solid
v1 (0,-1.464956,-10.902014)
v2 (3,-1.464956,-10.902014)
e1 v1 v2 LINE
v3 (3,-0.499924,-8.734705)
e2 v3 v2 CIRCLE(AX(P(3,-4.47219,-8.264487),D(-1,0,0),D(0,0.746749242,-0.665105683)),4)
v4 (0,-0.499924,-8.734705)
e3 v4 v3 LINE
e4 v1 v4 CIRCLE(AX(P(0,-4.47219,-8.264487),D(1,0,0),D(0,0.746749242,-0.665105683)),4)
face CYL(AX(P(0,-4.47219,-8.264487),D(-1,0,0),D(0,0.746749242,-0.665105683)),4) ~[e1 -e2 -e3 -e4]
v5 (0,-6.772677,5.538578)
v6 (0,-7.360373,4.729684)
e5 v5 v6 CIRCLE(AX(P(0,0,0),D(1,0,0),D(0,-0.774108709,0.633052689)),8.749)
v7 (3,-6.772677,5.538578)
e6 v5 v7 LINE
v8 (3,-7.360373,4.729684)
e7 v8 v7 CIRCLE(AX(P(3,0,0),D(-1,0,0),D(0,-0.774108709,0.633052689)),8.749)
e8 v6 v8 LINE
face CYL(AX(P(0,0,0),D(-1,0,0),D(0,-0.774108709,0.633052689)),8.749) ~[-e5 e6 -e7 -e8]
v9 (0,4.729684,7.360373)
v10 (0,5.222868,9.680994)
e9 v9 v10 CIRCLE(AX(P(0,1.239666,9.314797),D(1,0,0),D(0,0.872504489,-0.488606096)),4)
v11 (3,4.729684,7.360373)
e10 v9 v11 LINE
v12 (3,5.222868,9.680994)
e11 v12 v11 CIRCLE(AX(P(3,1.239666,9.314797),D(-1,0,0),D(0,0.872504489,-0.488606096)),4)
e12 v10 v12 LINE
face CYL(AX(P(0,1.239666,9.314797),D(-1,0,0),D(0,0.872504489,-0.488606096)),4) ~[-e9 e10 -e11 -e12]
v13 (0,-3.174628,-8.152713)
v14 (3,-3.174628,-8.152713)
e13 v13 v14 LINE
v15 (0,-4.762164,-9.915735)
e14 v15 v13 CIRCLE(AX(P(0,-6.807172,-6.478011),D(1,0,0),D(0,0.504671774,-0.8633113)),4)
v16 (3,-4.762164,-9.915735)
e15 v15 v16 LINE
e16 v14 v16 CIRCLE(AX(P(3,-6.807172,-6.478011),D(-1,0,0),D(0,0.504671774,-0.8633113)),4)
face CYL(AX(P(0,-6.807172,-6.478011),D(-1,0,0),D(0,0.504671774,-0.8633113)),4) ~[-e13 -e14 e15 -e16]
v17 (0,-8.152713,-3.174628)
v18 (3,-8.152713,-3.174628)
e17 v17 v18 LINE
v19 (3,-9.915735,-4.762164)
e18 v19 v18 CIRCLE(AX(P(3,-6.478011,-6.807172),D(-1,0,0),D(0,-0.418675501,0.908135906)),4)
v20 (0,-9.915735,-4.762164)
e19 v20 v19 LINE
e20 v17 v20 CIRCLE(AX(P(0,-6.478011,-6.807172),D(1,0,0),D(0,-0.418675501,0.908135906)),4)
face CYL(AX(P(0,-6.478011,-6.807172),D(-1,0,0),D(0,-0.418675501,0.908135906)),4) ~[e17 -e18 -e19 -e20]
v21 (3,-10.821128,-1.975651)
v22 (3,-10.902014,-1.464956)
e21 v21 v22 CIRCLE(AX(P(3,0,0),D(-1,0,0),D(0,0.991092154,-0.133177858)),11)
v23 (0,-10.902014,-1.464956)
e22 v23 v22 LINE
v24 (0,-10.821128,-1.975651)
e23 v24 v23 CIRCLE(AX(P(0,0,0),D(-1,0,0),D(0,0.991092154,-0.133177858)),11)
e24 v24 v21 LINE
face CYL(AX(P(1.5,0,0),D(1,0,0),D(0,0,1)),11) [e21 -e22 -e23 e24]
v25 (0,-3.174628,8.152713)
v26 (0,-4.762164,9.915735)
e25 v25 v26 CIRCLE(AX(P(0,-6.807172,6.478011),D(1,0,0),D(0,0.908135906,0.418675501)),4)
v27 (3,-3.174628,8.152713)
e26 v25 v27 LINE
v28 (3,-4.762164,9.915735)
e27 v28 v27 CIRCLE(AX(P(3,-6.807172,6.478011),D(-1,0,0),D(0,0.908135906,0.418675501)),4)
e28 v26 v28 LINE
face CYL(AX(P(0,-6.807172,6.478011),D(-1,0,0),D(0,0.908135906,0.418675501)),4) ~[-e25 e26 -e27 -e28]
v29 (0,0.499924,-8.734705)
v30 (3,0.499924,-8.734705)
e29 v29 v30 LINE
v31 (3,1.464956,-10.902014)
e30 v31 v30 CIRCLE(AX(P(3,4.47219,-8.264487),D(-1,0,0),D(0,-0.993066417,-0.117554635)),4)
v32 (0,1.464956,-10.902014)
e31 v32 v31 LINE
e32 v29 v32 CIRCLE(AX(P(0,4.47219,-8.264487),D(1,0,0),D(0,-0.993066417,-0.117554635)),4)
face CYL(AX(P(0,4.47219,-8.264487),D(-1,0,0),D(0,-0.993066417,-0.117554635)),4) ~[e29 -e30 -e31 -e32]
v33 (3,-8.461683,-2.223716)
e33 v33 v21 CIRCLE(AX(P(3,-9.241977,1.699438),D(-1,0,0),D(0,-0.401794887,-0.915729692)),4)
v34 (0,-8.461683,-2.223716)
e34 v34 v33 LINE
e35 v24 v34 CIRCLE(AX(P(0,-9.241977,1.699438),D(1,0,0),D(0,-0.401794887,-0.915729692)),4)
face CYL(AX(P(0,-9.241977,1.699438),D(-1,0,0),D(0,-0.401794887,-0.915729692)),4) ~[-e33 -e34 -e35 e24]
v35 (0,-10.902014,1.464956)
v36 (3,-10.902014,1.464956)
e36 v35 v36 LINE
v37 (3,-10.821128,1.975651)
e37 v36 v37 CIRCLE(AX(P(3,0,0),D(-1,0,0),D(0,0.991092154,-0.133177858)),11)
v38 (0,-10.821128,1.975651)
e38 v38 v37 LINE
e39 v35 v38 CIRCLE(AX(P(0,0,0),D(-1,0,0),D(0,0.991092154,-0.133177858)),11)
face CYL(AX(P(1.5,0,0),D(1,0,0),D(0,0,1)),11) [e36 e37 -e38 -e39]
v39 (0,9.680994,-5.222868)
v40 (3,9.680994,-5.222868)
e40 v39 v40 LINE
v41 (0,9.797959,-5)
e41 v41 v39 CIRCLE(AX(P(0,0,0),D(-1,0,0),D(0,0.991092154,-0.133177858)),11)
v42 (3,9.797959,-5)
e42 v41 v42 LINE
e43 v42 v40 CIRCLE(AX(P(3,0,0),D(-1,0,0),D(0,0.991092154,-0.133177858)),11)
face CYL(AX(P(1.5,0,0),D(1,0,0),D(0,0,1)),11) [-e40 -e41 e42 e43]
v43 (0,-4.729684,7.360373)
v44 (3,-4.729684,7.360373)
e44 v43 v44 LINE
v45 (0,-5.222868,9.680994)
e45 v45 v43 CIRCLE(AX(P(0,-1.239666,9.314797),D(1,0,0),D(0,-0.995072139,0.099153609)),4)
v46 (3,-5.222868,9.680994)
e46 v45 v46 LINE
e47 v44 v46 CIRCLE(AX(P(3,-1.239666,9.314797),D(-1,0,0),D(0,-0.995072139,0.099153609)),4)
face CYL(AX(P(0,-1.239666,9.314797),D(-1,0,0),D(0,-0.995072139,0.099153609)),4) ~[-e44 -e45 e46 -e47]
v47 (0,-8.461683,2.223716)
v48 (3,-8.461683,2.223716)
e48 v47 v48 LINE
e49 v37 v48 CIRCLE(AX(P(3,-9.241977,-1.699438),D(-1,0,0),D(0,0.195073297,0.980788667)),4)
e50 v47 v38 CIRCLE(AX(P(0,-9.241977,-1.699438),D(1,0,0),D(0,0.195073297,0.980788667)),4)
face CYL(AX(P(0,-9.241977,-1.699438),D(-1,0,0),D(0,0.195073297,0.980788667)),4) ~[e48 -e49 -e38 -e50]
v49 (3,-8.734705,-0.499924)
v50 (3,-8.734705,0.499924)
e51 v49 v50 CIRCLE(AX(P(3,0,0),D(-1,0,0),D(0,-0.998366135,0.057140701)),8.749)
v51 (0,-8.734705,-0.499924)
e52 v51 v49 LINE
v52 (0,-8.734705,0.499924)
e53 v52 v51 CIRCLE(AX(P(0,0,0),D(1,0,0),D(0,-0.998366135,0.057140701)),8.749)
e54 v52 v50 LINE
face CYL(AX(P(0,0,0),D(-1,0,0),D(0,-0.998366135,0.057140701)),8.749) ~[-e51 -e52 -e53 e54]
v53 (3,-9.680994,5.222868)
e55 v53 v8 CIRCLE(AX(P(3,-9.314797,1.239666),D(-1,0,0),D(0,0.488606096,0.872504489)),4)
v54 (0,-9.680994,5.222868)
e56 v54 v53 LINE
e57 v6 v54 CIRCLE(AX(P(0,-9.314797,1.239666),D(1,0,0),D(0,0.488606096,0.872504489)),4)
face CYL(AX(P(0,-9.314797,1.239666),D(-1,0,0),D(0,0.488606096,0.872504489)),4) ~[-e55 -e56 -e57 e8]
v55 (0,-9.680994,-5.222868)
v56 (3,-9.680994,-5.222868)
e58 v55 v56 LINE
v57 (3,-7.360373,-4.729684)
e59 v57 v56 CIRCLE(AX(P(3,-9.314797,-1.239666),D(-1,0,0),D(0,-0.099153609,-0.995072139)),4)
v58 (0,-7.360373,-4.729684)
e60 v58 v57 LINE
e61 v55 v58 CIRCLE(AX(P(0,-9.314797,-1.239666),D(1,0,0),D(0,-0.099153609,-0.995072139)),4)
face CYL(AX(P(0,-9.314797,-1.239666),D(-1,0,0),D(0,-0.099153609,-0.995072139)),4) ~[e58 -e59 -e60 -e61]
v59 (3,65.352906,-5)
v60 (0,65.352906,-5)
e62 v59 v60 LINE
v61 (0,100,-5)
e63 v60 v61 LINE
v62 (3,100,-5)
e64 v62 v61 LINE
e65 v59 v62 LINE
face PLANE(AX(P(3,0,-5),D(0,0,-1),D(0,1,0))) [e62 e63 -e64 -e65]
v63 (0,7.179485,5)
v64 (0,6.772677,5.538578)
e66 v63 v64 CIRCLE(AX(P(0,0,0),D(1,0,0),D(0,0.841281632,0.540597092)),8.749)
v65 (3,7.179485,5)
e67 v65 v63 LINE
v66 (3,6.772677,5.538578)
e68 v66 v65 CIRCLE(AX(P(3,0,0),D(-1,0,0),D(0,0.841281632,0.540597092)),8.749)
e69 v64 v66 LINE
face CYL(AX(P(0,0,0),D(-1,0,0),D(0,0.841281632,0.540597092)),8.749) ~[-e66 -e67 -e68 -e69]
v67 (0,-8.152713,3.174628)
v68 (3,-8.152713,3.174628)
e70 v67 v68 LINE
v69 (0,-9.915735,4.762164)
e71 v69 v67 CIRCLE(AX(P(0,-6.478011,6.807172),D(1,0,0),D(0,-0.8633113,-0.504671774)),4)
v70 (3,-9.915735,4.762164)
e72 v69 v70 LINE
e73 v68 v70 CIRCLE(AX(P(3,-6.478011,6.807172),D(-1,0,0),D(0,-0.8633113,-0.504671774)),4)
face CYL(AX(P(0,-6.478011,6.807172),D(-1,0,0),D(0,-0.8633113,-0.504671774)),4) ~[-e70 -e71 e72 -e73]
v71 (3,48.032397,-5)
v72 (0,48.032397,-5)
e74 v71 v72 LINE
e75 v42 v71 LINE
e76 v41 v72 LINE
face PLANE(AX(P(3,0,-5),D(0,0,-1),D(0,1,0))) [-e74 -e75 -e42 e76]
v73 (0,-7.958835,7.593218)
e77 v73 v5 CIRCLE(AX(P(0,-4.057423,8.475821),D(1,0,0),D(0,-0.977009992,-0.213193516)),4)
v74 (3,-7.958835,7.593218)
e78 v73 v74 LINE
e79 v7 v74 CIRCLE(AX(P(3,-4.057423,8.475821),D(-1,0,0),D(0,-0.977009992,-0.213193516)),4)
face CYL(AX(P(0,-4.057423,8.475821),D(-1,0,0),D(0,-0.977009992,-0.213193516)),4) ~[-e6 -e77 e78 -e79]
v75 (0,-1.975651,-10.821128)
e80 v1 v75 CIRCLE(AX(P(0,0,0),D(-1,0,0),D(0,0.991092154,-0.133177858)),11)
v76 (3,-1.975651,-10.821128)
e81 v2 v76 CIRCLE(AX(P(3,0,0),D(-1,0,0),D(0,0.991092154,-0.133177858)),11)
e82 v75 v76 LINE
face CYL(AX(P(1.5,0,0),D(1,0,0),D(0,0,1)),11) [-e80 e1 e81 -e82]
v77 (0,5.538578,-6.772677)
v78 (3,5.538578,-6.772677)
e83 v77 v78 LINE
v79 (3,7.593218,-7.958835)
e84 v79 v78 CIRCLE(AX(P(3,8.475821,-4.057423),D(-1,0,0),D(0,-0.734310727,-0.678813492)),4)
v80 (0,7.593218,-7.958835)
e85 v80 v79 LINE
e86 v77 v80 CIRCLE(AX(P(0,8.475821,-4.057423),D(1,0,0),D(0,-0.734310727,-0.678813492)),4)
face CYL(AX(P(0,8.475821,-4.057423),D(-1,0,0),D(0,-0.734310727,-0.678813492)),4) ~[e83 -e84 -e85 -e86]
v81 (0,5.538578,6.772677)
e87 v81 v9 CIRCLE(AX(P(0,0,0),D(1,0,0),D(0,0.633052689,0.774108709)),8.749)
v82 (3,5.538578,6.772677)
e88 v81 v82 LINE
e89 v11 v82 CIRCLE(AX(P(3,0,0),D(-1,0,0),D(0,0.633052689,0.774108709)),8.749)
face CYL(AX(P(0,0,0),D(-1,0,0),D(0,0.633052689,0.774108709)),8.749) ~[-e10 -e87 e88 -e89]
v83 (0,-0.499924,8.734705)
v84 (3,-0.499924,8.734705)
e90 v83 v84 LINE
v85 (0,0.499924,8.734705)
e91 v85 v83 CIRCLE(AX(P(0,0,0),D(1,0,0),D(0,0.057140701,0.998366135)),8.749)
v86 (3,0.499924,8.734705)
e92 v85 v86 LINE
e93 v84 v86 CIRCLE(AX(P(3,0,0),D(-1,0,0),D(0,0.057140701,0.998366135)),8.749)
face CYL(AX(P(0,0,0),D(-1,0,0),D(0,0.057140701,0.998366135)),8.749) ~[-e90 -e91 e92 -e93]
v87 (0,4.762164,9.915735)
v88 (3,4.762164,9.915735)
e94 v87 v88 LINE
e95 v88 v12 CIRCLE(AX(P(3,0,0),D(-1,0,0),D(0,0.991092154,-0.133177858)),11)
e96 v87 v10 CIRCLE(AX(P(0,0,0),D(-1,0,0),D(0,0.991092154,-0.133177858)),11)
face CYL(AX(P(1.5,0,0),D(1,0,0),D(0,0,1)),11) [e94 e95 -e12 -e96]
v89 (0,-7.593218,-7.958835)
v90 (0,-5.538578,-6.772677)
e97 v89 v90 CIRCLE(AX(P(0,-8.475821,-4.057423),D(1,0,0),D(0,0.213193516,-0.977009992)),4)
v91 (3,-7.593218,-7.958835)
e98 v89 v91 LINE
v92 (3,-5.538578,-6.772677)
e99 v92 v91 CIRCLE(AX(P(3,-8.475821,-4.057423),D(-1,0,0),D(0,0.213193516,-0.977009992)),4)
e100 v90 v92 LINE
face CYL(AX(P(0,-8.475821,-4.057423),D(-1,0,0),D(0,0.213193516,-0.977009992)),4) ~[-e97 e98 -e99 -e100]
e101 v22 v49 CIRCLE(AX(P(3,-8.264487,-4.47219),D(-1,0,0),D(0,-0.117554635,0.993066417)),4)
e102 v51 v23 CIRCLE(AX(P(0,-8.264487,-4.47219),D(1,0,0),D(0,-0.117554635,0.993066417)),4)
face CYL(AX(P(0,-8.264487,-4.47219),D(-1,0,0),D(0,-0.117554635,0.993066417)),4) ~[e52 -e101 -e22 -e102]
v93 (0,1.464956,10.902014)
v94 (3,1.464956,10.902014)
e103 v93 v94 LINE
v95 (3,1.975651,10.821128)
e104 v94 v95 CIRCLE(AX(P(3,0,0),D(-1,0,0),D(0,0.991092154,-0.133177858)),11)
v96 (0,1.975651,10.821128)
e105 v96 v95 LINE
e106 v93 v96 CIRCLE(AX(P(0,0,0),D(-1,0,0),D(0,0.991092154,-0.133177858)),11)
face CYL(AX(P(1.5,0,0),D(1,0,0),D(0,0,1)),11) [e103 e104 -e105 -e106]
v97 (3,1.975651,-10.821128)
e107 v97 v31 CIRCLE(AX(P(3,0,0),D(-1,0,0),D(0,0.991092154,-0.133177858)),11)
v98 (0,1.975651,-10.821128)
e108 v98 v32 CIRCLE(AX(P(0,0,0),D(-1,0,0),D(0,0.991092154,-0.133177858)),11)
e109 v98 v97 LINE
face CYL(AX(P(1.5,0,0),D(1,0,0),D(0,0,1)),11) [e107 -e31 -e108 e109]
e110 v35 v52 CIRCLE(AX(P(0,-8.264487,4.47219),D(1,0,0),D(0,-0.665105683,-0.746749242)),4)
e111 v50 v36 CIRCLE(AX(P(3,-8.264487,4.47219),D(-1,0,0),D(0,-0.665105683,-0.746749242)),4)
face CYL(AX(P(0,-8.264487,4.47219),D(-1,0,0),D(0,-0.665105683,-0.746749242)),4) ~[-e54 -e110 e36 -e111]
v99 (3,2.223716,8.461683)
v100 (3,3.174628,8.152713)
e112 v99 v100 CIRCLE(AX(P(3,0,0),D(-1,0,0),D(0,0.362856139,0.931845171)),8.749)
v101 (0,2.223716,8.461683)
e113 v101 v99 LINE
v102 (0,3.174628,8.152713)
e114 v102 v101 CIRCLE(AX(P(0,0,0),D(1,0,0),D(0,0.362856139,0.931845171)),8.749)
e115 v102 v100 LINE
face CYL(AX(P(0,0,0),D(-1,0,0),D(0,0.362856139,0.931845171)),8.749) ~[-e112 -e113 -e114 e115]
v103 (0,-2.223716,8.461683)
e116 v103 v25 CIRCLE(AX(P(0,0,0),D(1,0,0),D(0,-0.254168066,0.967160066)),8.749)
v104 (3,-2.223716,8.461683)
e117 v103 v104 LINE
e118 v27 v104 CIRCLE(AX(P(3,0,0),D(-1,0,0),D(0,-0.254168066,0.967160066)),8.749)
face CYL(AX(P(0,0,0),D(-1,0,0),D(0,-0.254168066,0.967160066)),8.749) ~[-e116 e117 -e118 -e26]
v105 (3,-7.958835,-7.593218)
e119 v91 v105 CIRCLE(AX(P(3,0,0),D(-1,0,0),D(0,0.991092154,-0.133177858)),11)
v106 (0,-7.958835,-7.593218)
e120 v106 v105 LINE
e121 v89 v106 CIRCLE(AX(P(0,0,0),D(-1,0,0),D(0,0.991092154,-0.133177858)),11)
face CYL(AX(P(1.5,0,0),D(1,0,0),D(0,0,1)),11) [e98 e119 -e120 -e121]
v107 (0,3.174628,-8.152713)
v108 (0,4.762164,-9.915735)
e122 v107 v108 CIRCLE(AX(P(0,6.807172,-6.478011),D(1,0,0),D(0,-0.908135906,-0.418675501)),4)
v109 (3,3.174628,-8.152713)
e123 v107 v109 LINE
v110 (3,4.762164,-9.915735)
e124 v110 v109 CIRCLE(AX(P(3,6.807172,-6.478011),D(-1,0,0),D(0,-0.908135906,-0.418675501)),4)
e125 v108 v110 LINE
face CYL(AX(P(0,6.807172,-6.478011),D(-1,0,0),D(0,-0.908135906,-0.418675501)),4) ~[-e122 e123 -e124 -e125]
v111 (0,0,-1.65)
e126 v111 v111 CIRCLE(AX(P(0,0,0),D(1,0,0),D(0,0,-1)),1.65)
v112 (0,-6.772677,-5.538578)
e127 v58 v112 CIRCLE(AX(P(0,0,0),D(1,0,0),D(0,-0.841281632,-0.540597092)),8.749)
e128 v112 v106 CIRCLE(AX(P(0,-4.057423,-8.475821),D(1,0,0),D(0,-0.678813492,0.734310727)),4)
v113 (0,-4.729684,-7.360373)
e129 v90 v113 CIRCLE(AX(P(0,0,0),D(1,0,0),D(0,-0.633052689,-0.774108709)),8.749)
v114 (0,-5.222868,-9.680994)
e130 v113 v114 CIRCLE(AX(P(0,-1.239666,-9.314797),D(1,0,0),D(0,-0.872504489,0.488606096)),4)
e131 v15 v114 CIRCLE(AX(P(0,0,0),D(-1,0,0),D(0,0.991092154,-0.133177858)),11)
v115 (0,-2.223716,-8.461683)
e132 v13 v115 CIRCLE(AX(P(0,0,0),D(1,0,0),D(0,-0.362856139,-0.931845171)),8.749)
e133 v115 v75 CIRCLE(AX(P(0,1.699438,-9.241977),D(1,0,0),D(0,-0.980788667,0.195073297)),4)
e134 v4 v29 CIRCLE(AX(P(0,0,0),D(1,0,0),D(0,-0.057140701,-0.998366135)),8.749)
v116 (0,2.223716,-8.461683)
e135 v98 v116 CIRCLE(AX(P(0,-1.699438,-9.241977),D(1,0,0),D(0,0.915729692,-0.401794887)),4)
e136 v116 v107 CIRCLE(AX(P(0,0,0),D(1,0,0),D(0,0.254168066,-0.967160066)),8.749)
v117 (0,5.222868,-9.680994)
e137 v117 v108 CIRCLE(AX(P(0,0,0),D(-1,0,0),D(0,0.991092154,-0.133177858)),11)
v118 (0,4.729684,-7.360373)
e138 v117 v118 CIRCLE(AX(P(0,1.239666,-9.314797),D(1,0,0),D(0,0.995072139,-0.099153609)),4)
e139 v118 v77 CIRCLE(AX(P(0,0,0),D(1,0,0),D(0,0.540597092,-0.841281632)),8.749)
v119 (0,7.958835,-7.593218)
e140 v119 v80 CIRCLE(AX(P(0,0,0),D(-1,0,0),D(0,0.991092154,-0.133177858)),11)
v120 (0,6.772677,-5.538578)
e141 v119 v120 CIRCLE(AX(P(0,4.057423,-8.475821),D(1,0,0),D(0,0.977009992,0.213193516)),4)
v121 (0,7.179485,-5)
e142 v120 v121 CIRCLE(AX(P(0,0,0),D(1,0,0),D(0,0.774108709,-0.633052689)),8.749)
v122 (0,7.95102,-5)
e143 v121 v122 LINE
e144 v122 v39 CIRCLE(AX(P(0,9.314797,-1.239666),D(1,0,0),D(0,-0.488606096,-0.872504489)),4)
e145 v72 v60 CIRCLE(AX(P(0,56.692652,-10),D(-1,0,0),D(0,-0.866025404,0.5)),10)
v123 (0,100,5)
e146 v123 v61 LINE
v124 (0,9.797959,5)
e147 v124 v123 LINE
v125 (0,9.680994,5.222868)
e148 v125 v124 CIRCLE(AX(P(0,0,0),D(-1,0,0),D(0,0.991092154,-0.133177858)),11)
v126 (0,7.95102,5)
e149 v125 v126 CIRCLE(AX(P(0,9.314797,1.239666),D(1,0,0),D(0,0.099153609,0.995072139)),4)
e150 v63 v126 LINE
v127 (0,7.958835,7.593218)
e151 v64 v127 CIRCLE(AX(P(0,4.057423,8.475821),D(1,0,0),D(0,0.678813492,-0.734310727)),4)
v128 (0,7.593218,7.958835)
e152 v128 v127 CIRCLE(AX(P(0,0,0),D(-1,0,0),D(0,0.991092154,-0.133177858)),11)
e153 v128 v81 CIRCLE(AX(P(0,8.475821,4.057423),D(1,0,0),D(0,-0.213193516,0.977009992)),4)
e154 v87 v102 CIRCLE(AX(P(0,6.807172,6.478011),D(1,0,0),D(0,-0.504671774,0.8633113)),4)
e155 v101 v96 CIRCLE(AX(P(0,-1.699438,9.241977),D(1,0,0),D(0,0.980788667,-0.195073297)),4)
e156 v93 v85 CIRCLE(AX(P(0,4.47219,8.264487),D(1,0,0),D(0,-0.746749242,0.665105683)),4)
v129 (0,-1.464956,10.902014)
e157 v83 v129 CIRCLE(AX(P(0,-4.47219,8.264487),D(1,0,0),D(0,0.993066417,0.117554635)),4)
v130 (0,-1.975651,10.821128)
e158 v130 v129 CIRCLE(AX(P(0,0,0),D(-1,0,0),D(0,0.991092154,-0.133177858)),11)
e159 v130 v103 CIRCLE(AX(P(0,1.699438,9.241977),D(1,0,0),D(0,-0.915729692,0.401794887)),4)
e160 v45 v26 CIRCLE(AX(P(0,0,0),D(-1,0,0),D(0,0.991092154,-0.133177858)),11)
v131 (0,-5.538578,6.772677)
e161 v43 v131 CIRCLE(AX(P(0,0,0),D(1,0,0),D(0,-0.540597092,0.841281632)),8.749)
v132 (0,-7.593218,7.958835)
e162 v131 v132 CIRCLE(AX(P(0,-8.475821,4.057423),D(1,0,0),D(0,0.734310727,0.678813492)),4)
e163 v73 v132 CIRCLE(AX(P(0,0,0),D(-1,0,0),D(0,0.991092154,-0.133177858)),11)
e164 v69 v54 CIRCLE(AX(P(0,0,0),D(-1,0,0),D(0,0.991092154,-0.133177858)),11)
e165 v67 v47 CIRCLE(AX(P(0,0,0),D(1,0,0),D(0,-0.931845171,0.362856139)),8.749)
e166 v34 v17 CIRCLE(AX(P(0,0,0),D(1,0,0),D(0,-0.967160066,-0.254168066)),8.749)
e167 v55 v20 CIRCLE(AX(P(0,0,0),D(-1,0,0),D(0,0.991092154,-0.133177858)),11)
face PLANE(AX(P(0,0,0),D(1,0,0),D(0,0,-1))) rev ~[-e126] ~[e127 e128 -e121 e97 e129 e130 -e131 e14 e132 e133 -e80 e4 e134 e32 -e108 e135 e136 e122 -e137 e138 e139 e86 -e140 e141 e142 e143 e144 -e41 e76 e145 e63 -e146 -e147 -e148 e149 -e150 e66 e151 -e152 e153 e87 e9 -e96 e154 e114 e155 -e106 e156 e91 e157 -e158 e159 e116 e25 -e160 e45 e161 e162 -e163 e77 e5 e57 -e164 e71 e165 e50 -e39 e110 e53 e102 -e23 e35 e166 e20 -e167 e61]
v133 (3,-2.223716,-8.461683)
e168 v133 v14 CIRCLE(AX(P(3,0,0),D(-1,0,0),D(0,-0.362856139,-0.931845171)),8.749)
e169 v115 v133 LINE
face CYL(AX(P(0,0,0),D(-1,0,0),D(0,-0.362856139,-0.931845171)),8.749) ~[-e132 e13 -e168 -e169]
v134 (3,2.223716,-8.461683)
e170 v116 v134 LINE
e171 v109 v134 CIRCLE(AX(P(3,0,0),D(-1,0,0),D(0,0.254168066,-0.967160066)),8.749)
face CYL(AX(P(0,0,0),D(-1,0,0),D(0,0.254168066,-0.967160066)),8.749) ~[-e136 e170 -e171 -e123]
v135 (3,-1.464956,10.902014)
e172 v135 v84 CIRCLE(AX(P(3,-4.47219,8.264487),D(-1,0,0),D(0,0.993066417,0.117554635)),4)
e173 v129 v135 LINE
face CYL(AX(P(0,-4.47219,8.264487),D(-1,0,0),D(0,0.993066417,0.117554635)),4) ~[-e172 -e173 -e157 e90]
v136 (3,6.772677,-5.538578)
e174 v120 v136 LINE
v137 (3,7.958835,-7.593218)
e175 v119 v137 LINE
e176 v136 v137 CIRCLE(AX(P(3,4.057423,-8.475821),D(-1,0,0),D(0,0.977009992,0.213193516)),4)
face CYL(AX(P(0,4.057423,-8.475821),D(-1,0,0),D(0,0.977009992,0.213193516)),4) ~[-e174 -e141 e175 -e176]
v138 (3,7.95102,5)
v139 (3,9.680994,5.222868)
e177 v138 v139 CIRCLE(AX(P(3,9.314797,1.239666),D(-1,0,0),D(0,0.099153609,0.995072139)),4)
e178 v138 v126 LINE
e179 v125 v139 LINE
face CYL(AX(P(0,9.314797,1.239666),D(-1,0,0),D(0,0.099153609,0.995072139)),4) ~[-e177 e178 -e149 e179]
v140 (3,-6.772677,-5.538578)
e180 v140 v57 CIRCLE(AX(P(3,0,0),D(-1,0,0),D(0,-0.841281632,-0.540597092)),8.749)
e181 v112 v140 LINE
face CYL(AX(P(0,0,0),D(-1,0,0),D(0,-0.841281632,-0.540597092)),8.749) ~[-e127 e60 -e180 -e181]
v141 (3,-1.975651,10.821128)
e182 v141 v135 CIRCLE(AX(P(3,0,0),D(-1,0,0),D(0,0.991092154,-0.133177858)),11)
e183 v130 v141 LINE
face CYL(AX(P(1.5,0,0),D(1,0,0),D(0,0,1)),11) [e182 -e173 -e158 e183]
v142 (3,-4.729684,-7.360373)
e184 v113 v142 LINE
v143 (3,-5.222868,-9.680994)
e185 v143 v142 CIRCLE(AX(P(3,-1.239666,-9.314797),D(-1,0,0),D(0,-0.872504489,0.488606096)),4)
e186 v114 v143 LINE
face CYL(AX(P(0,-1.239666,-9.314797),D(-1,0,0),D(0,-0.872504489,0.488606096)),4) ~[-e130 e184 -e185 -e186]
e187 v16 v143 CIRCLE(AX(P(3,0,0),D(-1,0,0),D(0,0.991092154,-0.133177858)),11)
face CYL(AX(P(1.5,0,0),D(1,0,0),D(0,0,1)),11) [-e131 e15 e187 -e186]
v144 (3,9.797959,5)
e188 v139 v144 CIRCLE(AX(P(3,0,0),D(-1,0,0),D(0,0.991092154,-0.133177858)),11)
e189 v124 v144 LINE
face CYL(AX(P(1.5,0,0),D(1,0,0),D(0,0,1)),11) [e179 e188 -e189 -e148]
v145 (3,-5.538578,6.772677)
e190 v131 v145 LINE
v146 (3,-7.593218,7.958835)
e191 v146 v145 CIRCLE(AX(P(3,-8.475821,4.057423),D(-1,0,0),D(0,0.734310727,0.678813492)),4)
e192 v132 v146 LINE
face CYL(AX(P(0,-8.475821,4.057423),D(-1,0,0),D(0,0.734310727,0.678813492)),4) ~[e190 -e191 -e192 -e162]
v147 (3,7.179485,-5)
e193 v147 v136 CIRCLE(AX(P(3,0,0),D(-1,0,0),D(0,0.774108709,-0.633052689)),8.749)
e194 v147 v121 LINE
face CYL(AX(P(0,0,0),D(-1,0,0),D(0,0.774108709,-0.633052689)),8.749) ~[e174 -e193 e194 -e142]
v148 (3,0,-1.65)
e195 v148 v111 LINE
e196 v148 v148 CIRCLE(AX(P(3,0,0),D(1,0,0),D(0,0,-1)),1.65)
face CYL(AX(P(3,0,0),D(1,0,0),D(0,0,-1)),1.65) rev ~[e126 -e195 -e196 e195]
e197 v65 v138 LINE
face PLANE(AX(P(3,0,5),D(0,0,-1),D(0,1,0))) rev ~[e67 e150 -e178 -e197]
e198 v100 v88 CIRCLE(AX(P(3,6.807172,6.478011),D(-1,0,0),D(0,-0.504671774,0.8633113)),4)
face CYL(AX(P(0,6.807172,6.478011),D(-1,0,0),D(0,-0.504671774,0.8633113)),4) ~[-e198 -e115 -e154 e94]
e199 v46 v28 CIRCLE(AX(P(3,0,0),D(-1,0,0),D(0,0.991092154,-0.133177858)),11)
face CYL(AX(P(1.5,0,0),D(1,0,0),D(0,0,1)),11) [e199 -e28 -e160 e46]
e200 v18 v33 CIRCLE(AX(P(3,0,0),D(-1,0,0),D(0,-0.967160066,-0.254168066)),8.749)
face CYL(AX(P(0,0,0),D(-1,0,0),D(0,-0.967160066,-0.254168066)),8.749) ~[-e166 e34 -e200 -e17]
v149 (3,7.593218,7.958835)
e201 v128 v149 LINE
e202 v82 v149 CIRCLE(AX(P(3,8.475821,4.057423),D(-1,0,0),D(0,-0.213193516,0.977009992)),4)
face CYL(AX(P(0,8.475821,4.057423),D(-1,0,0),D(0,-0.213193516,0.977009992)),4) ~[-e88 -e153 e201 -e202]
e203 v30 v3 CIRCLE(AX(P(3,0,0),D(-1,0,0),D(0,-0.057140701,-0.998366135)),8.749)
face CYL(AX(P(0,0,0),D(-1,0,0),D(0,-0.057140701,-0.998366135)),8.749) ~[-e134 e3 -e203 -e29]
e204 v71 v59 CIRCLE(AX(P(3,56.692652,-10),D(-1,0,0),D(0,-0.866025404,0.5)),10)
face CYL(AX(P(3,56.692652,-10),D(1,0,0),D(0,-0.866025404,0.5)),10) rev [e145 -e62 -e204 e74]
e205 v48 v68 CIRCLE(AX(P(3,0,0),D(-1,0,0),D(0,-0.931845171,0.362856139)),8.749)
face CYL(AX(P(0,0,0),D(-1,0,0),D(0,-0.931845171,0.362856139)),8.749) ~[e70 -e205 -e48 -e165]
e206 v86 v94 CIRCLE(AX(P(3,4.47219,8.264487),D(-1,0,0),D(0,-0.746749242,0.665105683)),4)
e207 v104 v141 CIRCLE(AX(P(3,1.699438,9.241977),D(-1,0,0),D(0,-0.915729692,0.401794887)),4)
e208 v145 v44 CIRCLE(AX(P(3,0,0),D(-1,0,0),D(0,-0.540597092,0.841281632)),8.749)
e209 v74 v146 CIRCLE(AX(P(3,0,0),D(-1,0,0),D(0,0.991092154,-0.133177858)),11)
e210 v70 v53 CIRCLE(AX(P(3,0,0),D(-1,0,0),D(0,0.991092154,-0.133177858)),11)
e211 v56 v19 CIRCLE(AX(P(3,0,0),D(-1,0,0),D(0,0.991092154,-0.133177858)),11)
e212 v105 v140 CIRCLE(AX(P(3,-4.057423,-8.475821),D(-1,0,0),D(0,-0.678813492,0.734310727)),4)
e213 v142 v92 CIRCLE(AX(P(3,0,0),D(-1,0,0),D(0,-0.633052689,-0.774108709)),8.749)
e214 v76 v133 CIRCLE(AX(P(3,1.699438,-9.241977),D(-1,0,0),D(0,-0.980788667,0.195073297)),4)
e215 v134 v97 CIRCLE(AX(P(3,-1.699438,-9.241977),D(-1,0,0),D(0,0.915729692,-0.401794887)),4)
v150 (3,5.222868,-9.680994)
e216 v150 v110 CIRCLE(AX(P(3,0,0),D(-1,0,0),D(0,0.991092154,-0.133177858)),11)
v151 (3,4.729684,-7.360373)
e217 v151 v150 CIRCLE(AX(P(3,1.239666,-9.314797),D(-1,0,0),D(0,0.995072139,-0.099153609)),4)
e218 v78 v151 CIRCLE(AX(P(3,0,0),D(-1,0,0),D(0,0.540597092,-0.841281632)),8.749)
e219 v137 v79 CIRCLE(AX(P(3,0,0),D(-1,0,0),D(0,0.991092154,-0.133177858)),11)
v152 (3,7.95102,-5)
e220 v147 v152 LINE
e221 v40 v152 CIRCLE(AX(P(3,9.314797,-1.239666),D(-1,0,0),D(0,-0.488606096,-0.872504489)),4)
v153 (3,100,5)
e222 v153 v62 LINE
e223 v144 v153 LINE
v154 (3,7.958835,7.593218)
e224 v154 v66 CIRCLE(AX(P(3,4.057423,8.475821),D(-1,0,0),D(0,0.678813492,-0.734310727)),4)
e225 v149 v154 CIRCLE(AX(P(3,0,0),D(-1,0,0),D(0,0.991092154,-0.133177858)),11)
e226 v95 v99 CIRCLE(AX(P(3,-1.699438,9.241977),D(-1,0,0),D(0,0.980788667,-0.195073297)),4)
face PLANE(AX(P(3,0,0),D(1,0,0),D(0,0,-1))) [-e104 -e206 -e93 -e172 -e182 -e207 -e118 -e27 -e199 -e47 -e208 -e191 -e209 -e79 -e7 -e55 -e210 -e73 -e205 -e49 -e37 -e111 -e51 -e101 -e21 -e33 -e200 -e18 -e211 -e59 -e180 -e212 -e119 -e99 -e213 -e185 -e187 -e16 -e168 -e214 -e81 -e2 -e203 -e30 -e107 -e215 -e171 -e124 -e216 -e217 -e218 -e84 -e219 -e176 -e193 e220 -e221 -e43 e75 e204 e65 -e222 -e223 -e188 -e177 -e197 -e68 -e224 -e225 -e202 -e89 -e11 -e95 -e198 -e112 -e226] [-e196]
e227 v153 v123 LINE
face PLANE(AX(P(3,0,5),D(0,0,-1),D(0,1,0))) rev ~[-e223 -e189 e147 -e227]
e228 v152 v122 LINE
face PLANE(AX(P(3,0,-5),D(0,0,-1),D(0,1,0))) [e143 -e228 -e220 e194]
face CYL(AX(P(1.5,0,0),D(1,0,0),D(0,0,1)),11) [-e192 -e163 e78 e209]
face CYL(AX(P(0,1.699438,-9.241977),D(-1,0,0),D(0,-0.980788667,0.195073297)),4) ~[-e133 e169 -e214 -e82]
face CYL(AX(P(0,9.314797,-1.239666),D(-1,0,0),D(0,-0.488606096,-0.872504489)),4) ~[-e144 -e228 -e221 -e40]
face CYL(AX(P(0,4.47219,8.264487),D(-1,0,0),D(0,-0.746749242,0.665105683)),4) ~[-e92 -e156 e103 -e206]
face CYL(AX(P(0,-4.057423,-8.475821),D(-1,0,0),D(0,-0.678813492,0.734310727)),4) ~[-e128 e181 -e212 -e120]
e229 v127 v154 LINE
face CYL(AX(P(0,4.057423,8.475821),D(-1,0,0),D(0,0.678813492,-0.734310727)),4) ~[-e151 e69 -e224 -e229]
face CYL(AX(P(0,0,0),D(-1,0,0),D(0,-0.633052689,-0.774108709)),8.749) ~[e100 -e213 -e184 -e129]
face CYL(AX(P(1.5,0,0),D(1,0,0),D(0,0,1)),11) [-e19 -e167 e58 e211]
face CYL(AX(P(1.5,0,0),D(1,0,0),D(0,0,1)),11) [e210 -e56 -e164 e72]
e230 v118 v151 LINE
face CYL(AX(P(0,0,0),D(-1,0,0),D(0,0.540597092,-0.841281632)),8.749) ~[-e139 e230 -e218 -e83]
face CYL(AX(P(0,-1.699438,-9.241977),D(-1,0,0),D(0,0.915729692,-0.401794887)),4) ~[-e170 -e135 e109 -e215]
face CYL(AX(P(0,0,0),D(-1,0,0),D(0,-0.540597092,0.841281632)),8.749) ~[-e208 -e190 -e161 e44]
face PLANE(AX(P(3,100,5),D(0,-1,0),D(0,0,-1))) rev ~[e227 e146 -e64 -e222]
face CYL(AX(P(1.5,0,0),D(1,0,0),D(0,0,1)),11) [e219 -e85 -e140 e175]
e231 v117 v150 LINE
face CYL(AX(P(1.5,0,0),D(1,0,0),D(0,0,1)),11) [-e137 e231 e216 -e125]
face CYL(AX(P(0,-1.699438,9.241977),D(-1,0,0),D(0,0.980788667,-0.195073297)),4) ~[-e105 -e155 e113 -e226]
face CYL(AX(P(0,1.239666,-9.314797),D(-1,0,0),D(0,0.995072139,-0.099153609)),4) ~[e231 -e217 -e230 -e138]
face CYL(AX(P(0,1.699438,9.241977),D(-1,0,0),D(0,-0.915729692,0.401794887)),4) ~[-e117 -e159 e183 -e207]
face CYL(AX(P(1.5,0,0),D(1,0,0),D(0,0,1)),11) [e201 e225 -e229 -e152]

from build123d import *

# Parameters (mm, degrees)
BASPROSKE_W         = 3
BASPROSKE_H         = 11
TOOTHCUT_DEPTH      = 16.842979518
TEETHCUTS_COUNT     = 20
TEETHCUTS_ANGLE     = 342
BORSKE_R            = 2.5
BORE_DEPTH          = 50.0000508
SKETCH1_W           = 10
SKETCH1_H           = 100
BOSS_EXTRUDE1_DEPTH = 3
CUT_EXTRUDE1_DEPTH  = 3
CUT_EXTRUDE2_DEPTH  = 3
SKETCH6_R           = 2.5
SKETCH6_R_2         = 1.65
BOSS_EXTRUDE2_DEPTH = 3


with BuildPart() as part:
    # BasProSke → Base-Revolve (revolve)
    with BuildSketch(Plane(origin=(0, 0, 0), x_dir=(1, 0, 0), z_dir=(0, 1, 0)), mode=Mode.PRIVATE) as base_revolve_sk:
        with Locations((1.5, 5.5)):
            Rectangle(BASPROSKE_W, BASPROSKE_H)
    revolve(base_revolve_sk.sketch.rotate(Axis((-10, 0, 0), (1, 0, 0)), 180), axis=Axis((-10, 0, 0), (1, 0, 0)))

    # TooCutSke → ToothCut (cut, through all)
    with BuildSketch(Plane(origin=(0, 0, 0), x_dir=(0, 0, -1), z_dir=(1, 0, 0))):
        with BuildLine():
            ThreePointArc((0.499924007, 8.734705318), (0, 8.749), (-0.499924007, 8.734705318))
            ThreePointArc((-0.499924007, 8.734705318), (-0.824302243, 9.905497836), (-1.485192705, 10.924909509))
            ThreePointArc((-1.485192705, 10.924909509), (0, 11.0254), (1.485192705, 10.924909509))
            ThreePointArc((1.485192705, 10.924909509), (0.824302243, 9.905497836), (0.499924007, 8.734705318))
        make_face()
    toothcut = extrude(amount=TOOTHCUT_DEPTH, mode=Mode.SUBTRACT)

    # TeethCuts: ToothCut ×20 about axis
    teethcuts_axis = Axis((-10, 0, 0), (1, 0, 0))
    for i in range(1, TEETHCUTS_COUNT):
        add(toothcut.rotate(teethcuts_axis, i * TEETHCUTS_ANGLE / (TEETHCUTS_COUNT - 1)), mode=Mode.SUBTRACT)

    # BorSke → Bore (cut, symmetric)
    with BuildSketch(Plane(origin=(0, 0, 0), x_dir=(0, 0, -1), z_dir=(1, 0, 0))):
        with Locations(Location((0, 0, 0), (0, 0, 180))):
            Circle(BORSKE_R)
    extrude(amount=BORE_DEPTH, both=True, mode=Mode.SUBTRACT)

    # Sketch1 → Boss-Extrude1 (add)
    with BuildSketch(Plane(origin=(3, 0, 0), x_dir=(0, 0, -1), z_dir=(1, 0, 0))):
        with Locations((0, 50)):
            Rectangle(SKETCH1_W, SKETCH1_H)
    extrude(amount=-BOSS_EXTRUDE1_DEPTH)

    # Sketch4 → Cut-Extrude1 (cut)
    with BuildSketch(Plane(origin=(3, 0, 0), x_dir=(0, 0, -1), z_dir=(1, 0, 0))):
        with BuildLine():
            Line((5, 65.352905548), (5, 48.032397472))
            ThreePointArc((5, 48.032397472), (0, 56.69265151), (5, 65.352905548))
        make_face()
    extrude(amount=-CUT_EXTRUDE1_DEPTH, mode=Mode.SUBTRACT)

    # Sketch5 → Cut-Extrude2 (cut)
    with BuildSketch(Plane(origin=(3, 0, 0), x_dir=(0, 0, -1), z_dir=(1, 0, 0))):
        with BuildLine():
            Line((2.5, 0), (-2.5, 0))
            ThreePointArc((-2.5, 0), (0, 2.5), (2.5, 0))
        make_face()
    extrude(amount=-CUT_EXTRUDE2_DEPTH, mode=Mode.SUBTRACT)

    # Sketch6 → Boss-Extrude2 (add)
    with BuildSketch(Plane(origin=(3, 0, 0), x_dir=(0, 0, -1), z_dir=(1, 0, 0))):
        Circle(SKETCH6_R)
        Circle(SKETCH6_R_2, mode=Mode.SUBTRACT)
    extrude(amount=-BOSS_EXTRUDE2_DEPTH)


solid = part.part
